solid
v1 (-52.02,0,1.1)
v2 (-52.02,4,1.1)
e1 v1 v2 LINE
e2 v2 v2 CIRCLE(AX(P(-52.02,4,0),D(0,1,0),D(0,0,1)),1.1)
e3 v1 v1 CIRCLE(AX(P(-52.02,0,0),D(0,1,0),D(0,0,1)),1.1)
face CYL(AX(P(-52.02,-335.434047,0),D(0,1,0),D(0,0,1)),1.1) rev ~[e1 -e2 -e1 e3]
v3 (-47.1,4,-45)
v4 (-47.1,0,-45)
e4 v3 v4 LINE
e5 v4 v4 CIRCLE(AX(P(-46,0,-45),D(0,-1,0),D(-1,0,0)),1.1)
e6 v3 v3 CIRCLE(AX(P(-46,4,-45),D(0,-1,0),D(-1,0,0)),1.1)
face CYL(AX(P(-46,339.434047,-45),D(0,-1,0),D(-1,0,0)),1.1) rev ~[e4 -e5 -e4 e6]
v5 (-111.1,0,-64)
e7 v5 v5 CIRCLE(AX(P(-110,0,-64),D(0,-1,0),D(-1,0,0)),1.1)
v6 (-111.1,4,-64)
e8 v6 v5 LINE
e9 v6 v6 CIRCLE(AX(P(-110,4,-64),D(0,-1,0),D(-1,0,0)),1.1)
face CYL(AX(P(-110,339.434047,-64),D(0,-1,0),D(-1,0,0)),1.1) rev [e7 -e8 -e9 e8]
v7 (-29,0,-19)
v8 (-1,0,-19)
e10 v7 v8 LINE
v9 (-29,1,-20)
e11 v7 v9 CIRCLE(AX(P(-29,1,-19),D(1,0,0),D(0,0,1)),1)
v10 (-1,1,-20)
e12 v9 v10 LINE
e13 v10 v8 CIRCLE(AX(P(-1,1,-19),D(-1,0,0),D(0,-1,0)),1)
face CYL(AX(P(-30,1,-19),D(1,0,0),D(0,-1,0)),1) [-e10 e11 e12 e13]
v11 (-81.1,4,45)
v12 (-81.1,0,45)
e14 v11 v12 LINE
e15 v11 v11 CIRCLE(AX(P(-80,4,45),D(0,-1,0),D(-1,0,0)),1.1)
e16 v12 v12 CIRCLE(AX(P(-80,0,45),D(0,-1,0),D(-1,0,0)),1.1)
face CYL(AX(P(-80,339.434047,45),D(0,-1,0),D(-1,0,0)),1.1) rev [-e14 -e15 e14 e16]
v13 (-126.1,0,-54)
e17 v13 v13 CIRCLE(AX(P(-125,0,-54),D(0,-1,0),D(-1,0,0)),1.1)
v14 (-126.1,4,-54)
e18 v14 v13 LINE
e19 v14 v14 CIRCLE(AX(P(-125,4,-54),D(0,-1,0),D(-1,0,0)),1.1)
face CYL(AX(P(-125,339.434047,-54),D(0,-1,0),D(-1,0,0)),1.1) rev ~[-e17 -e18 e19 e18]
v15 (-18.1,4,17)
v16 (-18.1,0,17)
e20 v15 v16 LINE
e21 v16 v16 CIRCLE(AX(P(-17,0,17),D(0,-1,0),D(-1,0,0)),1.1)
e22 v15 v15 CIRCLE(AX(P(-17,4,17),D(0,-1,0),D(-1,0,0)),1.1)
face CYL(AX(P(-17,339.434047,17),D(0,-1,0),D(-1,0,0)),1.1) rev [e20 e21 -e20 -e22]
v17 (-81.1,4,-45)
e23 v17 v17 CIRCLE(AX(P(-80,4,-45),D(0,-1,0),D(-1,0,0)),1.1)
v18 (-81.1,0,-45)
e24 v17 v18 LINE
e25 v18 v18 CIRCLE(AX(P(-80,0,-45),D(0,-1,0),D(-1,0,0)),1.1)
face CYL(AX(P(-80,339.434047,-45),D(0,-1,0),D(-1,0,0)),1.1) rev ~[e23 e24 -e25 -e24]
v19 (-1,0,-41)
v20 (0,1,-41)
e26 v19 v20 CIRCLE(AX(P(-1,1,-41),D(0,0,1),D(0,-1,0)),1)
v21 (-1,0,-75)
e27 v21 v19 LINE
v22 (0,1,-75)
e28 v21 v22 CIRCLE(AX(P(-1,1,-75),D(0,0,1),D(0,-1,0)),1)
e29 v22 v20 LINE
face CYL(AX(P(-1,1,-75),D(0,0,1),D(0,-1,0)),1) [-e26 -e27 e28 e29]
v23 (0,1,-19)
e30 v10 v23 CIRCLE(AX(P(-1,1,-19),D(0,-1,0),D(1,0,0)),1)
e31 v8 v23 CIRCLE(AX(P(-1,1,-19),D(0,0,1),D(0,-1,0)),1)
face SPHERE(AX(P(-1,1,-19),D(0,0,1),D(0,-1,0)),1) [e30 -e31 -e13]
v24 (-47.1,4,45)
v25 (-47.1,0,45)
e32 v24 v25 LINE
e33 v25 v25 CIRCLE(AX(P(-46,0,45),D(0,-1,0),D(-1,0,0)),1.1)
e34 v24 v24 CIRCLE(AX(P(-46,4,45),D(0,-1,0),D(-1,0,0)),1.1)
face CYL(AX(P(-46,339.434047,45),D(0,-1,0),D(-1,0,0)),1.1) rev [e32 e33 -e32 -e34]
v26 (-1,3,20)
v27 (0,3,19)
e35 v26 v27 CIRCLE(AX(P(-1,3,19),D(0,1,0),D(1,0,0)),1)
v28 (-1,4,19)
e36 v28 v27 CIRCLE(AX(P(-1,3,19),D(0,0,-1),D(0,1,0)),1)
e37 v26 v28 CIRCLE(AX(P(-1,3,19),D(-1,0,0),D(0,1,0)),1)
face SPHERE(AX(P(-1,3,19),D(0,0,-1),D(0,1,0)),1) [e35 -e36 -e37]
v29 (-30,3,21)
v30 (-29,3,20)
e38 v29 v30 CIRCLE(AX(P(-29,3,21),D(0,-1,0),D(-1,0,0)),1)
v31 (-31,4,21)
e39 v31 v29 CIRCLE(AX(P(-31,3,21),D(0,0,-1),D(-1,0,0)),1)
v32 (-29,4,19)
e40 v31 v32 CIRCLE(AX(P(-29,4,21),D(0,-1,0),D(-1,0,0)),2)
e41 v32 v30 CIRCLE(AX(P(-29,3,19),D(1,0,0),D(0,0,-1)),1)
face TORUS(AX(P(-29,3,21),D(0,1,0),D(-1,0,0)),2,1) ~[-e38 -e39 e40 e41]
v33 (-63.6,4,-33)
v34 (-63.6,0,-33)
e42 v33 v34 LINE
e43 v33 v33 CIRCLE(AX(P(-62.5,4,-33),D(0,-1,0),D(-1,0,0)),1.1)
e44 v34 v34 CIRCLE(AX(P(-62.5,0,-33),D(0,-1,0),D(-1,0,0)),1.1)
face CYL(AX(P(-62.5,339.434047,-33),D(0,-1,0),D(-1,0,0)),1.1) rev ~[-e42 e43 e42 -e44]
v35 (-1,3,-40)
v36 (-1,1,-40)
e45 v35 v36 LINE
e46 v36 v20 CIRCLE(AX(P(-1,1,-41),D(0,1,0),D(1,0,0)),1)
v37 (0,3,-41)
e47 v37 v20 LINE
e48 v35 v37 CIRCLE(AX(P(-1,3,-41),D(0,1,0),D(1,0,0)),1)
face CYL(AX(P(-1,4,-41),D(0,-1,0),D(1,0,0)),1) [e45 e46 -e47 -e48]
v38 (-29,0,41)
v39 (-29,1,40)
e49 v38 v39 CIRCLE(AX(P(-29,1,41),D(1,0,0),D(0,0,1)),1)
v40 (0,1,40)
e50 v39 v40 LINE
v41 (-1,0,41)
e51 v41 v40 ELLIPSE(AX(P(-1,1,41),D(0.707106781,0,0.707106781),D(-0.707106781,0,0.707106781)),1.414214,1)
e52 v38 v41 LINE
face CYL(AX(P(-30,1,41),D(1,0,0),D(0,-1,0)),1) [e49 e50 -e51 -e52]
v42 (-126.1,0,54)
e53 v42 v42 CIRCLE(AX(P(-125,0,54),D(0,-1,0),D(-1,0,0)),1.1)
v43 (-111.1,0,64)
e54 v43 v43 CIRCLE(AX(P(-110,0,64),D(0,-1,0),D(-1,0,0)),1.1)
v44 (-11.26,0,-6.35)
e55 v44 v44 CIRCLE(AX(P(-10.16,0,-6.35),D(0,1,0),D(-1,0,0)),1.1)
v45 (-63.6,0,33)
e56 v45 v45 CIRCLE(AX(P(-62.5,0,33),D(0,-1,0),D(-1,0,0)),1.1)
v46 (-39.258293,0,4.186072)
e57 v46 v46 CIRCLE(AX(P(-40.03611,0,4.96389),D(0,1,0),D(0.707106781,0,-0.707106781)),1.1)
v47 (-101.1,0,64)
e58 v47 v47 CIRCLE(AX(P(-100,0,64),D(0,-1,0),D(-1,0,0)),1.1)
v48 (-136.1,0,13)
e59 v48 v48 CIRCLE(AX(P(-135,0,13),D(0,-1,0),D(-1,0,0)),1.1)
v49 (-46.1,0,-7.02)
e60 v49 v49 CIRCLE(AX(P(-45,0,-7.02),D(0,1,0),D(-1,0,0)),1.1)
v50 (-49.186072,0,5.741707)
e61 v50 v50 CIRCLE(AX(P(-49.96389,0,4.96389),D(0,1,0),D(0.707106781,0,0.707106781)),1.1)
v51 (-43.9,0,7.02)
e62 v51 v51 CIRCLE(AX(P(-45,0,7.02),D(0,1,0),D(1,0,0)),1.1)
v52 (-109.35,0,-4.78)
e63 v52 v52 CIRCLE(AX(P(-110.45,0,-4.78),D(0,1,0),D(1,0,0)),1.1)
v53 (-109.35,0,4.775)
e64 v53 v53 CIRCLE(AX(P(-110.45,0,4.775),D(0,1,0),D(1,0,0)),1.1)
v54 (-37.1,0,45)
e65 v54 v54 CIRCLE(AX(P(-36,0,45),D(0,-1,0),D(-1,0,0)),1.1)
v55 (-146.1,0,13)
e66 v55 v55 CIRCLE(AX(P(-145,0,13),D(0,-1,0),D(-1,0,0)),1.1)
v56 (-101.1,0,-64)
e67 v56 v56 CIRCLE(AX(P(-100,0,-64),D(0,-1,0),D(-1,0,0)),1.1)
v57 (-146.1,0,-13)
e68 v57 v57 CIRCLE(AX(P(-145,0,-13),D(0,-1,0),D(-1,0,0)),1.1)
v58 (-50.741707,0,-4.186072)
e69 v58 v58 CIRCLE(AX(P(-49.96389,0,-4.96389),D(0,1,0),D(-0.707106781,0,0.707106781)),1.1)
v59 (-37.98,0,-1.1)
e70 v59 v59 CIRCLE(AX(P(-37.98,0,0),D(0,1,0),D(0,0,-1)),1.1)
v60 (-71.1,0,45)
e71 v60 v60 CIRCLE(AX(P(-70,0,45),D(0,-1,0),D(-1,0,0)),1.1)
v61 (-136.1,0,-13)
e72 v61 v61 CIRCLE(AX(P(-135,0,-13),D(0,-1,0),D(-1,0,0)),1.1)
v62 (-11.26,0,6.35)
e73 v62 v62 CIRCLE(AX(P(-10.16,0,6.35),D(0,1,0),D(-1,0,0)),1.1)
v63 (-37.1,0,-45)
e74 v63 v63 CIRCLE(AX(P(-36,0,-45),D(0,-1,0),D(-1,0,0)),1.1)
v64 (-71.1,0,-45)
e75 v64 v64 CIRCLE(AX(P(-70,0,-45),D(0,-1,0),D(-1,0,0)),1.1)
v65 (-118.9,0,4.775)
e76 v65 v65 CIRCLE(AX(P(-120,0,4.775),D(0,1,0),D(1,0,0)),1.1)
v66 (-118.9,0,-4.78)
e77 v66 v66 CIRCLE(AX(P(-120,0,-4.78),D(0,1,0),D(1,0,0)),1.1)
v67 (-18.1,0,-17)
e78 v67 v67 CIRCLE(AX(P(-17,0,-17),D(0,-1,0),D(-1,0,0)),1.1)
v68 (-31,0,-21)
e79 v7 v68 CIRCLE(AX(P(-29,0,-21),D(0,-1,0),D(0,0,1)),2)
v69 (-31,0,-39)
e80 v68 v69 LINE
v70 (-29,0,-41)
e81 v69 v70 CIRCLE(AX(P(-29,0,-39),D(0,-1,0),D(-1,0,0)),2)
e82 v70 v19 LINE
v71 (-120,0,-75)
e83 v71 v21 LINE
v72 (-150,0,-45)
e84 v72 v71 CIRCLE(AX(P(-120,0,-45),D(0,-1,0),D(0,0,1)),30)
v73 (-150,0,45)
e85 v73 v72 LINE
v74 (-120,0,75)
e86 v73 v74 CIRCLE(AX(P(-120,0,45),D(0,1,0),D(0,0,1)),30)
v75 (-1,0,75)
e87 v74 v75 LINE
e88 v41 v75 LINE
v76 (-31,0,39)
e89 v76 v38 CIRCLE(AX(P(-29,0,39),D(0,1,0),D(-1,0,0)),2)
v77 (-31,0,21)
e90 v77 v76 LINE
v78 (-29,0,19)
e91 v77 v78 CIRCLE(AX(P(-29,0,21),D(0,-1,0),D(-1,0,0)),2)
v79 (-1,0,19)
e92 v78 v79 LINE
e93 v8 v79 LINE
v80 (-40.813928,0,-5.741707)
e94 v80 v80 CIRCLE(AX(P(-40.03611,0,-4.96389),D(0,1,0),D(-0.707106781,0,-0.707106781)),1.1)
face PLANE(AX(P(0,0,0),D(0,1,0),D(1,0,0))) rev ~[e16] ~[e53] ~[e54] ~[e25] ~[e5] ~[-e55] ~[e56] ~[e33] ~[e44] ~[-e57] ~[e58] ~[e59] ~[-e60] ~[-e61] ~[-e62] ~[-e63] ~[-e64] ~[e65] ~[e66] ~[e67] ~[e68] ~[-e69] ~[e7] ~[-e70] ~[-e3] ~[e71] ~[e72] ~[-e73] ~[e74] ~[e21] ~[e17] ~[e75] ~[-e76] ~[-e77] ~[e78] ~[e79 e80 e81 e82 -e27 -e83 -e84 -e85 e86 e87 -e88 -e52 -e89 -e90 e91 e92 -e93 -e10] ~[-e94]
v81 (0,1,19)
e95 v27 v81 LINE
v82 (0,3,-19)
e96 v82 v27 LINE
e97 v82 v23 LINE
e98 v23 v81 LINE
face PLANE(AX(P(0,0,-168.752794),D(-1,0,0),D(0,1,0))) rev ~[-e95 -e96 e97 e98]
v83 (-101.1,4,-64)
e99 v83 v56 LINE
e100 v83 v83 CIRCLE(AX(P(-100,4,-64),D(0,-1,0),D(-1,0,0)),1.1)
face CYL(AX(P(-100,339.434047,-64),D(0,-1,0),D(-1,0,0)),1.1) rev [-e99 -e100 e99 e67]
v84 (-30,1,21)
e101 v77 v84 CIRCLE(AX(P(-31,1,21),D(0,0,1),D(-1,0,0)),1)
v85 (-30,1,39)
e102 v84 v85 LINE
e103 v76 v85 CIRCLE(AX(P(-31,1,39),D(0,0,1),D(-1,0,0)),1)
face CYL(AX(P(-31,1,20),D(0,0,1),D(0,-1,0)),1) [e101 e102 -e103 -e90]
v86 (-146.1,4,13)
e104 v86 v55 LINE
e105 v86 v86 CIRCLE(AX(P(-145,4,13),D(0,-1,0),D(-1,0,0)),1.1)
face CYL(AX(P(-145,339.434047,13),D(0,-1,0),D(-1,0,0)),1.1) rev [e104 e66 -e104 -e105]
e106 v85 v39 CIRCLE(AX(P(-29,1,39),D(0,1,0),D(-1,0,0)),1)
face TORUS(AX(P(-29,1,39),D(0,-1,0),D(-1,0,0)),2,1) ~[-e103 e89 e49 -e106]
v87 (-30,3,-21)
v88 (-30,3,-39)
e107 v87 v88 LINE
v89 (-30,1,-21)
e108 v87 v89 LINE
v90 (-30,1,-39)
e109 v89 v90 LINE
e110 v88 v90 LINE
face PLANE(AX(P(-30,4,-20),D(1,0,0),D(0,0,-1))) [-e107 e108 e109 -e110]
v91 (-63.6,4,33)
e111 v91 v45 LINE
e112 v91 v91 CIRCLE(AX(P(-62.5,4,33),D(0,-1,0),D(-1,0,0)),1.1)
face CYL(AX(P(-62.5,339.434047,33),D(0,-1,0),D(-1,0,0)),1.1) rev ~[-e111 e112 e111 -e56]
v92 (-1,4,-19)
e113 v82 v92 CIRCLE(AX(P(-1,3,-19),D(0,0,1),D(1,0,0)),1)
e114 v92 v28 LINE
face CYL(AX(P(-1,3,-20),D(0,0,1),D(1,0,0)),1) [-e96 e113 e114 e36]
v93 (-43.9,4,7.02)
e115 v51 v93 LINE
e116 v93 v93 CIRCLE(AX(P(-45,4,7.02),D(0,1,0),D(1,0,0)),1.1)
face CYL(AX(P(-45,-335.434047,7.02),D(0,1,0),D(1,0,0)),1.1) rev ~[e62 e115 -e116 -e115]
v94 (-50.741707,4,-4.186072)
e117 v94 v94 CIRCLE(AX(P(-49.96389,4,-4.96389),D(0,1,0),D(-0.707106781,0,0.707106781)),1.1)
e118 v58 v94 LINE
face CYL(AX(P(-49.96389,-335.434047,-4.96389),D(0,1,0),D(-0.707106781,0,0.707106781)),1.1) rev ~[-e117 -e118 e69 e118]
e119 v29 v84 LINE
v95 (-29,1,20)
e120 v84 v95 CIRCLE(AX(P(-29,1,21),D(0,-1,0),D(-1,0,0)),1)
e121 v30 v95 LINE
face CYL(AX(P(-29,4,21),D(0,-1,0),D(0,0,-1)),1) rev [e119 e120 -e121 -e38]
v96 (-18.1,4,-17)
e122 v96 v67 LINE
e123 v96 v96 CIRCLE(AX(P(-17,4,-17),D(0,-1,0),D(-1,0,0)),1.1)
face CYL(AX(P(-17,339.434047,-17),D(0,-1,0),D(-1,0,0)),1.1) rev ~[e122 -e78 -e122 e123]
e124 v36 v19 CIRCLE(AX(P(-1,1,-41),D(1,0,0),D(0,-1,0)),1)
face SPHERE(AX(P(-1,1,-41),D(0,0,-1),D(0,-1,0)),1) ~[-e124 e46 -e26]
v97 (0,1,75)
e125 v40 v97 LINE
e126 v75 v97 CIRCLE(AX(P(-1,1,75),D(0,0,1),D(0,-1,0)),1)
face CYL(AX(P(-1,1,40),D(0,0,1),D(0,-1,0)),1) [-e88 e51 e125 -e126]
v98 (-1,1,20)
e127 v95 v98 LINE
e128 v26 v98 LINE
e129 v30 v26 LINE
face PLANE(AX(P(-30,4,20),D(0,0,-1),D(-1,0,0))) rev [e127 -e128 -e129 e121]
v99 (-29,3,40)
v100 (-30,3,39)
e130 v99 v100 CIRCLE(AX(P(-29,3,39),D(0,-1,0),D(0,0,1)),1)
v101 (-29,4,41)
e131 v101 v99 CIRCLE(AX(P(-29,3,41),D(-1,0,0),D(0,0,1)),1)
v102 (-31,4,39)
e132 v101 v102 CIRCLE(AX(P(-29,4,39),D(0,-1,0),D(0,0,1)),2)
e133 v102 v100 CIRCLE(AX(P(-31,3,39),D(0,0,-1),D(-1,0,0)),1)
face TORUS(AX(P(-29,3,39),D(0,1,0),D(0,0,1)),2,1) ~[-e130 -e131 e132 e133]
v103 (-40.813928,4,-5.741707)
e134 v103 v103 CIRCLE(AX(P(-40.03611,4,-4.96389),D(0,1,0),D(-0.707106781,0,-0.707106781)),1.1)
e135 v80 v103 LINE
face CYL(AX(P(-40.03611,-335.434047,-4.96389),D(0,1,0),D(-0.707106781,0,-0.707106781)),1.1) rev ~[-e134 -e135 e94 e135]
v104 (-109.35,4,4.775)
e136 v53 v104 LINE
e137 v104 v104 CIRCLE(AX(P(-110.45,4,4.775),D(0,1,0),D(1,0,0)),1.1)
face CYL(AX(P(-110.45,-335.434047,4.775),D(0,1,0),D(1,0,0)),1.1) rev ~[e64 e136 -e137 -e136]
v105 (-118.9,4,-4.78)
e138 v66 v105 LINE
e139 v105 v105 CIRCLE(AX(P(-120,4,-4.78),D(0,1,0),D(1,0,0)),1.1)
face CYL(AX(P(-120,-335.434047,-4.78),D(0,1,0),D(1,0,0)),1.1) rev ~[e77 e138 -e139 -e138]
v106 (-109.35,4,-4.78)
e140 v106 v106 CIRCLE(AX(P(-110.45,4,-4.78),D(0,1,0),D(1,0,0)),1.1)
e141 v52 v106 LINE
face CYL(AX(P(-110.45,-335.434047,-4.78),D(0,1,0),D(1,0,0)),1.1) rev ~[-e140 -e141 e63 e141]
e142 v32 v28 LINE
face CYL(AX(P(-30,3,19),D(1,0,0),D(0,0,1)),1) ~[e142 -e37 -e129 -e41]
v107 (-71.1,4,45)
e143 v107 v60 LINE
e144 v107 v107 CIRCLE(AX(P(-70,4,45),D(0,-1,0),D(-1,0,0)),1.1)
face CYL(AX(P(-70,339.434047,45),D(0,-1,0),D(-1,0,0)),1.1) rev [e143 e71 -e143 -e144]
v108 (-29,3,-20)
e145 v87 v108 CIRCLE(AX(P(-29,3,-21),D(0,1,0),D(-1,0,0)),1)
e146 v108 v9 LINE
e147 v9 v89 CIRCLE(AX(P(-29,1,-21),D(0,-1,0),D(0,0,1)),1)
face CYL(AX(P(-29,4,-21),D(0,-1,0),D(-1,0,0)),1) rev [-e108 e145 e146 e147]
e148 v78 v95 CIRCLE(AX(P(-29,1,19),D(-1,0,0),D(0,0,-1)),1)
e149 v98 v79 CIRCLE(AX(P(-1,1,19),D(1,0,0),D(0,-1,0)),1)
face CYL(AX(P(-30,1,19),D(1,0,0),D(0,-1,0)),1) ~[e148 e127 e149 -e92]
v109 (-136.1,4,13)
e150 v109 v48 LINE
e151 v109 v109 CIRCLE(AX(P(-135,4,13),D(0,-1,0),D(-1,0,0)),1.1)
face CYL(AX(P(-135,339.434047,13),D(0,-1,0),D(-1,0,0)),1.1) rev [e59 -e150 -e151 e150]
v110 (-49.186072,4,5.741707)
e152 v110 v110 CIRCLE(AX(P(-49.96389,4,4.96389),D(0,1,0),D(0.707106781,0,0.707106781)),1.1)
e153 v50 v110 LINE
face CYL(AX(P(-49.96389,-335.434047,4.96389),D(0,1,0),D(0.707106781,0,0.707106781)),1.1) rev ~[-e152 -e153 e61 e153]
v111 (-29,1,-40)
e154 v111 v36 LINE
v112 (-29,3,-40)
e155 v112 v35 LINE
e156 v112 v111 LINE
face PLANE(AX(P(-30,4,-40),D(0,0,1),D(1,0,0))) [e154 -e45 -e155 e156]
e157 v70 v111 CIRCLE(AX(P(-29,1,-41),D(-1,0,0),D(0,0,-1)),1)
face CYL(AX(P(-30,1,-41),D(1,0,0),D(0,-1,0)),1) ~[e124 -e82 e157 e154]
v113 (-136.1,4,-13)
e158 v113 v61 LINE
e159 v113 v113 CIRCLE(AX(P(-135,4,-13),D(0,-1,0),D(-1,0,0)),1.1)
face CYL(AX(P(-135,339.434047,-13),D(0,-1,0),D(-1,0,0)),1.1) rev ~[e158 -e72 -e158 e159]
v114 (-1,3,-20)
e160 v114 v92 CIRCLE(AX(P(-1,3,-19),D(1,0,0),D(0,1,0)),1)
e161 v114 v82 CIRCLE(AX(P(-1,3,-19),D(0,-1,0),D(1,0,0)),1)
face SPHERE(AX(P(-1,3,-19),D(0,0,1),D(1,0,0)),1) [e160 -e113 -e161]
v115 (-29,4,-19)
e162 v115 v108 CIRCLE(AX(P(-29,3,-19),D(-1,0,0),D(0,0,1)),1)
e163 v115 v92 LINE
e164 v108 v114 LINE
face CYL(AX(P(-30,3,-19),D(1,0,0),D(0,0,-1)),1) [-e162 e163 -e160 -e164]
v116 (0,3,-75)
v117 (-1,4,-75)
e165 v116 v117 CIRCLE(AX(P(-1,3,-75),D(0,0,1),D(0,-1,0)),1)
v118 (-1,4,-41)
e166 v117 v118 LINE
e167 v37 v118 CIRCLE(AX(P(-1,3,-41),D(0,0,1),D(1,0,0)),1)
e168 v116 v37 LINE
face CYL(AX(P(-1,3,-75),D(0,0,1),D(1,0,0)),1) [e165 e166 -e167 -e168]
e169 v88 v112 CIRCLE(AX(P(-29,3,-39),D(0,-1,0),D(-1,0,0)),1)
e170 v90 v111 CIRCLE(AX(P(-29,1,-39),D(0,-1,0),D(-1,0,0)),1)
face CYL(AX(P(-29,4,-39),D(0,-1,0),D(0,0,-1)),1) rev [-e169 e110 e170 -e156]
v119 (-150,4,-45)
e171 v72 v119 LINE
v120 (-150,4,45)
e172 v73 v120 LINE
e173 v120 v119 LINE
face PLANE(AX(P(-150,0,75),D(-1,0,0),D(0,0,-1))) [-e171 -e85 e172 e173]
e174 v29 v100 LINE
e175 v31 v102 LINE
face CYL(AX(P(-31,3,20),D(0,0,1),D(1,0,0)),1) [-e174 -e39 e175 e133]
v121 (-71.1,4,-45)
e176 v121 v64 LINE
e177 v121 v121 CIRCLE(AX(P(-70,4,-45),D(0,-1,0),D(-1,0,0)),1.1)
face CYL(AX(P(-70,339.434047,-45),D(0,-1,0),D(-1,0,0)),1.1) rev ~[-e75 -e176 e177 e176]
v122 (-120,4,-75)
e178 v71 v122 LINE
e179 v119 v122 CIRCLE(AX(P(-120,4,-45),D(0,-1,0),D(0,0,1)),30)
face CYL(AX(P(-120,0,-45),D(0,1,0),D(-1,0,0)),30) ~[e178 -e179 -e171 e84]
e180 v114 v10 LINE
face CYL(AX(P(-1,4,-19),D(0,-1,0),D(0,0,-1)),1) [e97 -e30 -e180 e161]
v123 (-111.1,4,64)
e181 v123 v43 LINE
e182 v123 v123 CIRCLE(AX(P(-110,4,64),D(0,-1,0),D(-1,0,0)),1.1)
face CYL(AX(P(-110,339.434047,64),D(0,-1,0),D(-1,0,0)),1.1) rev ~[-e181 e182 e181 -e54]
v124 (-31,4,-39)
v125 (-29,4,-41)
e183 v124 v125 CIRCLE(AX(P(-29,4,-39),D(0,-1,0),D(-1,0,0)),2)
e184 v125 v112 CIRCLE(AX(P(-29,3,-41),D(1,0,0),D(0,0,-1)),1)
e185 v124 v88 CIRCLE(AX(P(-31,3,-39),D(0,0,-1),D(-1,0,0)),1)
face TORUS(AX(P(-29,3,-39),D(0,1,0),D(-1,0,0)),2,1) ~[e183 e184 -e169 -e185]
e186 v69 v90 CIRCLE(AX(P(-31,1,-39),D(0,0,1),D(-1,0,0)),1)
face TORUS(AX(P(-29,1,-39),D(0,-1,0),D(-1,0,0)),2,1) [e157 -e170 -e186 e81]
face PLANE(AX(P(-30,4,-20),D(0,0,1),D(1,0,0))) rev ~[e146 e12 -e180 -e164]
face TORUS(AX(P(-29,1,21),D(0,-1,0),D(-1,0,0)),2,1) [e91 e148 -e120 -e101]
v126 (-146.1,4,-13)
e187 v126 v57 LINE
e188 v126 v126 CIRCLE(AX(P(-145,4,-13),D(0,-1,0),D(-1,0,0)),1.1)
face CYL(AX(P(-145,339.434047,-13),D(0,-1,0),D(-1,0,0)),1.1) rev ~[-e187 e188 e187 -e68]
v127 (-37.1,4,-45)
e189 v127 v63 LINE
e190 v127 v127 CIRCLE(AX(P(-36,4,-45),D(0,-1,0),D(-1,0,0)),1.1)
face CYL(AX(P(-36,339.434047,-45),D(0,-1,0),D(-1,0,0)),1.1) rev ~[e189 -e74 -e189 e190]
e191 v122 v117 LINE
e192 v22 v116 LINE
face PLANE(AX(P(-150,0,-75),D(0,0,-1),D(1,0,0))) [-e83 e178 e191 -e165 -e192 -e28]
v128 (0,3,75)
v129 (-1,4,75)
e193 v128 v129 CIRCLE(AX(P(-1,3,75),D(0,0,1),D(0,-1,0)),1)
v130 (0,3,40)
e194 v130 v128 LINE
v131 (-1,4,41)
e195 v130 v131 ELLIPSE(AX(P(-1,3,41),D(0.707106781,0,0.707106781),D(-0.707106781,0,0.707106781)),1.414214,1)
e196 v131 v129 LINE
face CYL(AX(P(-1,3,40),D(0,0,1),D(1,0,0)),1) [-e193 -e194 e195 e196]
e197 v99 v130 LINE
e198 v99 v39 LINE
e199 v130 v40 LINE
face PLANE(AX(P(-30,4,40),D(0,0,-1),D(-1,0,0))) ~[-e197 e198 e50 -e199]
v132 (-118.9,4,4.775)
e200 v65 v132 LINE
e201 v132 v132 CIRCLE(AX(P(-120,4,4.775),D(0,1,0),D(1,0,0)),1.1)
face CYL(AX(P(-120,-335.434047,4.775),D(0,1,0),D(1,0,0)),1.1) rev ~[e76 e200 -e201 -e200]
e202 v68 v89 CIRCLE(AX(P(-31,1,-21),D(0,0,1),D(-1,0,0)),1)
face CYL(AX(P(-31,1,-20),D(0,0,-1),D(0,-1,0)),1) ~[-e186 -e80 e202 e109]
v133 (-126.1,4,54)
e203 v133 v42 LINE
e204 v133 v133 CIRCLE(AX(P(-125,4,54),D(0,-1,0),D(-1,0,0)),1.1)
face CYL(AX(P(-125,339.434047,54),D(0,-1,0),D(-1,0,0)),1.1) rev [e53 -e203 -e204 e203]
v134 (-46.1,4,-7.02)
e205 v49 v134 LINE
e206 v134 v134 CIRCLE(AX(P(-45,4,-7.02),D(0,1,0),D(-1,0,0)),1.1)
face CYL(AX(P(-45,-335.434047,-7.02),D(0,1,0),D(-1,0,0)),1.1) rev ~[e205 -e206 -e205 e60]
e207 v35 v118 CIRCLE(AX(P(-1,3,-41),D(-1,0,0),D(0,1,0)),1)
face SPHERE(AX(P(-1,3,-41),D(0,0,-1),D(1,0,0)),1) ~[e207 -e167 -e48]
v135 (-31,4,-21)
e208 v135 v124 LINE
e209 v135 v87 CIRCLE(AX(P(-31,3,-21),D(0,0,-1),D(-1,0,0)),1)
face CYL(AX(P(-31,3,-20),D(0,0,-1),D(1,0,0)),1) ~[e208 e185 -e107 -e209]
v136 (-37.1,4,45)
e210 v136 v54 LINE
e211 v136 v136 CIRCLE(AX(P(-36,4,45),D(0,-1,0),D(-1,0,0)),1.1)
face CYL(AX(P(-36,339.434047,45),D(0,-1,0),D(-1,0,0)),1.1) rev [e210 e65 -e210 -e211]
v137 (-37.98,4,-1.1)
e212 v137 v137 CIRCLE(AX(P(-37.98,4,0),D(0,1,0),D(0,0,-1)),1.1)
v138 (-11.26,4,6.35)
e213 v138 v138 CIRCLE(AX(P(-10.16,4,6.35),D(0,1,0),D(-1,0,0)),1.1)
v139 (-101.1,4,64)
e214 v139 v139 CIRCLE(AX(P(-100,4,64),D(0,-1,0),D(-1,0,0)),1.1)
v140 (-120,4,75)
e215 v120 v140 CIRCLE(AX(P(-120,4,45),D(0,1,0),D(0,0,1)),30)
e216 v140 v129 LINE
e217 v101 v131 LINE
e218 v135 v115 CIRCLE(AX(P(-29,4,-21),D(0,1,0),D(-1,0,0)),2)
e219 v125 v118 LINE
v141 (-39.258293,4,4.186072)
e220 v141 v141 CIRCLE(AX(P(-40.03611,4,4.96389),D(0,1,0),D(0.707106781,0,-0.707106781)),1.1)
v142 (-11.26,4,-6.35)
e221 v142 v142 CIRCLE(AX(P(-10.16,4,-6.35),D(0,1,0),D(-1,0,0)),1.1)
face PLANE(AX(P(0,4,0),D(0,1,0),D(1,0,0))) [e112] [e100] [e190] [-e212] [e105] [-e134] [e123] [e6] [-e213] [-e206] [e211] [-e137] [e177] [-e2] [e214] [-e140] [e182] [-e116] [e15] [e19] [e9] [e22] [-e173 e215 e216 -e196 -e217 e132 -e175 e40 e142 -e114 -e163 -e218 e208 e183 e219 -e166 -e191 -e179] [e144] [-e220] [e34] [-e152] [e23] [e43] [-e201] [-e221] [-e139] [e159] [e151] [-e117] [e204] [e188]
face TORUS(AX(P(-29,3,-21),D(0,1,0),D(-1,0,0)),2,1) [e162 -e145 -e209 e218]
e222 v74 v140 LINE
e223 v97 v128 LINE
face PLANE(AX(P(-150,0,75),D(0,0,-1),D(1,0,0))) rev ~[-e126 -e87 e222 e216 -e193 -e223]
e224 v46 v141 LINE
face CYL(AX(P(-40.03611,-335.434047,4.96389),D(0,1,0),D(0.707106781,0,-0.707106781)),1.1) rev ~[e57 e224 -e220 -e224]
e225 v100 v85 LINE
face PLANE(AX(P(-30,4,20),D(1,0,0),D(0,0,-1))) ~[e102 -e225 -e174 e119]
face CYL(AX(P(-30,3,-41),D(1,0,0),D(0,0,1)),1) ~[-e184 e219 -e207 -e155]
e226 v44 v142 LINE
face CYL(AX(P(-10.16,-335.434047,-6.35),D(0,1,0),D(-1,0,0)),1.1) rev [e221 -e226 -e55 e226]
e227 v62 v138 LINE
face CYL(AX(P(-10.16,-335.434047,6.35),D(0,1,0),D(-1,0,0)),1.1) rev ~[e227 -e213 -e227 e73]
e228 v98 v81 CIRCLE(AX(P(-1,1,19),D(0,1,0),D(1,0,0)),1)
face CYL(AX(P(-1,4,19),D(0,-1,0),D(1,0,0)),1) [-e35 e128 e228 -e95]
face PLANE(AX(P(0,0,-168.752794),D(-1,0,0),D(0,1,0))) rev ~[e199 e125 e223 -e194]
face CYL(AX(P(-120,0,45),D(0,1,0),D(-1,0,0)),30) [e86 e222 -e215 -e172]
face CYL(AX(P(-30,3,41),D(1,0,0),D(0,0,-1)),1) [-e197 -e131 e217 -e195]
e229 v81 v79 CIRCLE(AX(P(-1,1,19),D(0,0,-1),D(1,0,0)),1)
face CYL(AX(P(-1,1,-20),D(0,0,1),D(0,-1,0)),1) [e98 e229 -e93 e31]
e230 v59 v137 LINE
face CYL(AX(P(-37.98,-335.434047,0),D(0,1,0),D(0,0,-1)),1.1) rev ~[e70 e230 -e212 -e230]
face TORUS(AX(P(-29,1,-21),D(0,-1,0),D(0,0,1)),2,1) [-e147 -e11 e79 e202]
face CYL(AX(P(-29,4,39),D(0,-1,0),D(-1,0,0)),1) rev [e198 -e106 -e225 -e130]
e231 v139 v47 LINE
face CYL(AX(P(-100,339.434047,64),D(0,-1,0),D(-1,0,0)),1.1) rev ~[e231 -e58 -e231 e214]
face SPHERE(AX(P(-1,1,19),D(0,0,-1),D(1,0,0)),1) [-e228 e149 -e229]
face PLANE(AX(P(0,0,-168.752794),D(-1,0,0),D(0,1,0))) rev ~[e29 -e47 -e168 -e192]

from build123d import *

# Parameters (mm, degrees)
SKETCH_1_W                            = 300
SKETCH_1_H                            = 150
EXTRUDE_1_DEPTH                       = 4
FILLET_4_R                            = 30
FILLET_5_R                            = 30
FILLET_6_R                            = 30
FILLET_7_R                            = 30
HOLE_WIZARD_2_2_2_2_1_D               = 2.2
PATTERN_CIRCULAR_1_COUNT              = 8
MIRROR_1_COPY_1_D                     = 2.2
MIRROR_1_COPY_2_D                     = 2.2
MIRROR_1_COPY_3_D                     = 2.2
MIRROR_1_COPY_4_D                     = 2.2
MIRROR_1_COPY_5_D                     = 2.2
MIRROR_1_COPY_6_D                     = 2.2
MIRROR_1_COPY_7_D                     = 2.2
HOLE_WIZARD_2_2_2_2_2_D               = 2.2
HOLE_WIZARD_2_2_2_2_4_D               = 2.2
F_2_2_2_2_DIAMETER_HOLE1_D            = 2.2
MIRROR_5_AT_THE_SECOND_PLANE_COPY_1_D = 2.2
HOLE_WIZARD_2_2_2_2_6_D               = 2.2
F_2_2_2_2_DIAMETER_HOLE2_D            = 2.2
MIRROR_6_AT_THE_SECOND_PLANE_COPY_1_D = 2.2
F_2_2_2_2_DIAMETER_HOLE3_D            = 2.2
F_2_2_2_2_DIAMETER_HOLE4_D            = 2.2
MIRROR_8_AT_THE_SECOND_PLANE_COPY_1_D = 2.2
F_2_2_2_2_DIAMETER_HOLE5_D            = 2.2
MIRROR_9_AT_THE_SECOND_PLANE_COPY_1_D = 2.2
CUT_EXTRUDE_2_DEPTH                   = 168.752794314
CUT_EXTRUDE_2_DEPTH_BACK              = 168.752794314
SKETCH_25_W                           = 150
SKETCH_25_H                           = 4
SKETCH_29_W                           = 30
SKETCH_29_H                           = 20
CUT_EXTRUDE_3_DEPTH                   = 168.752794314
FILLET_8_R                            = 1


with BuildPart() as part:
    # 草图1 → 凸台-拉伸1 (new body)
    with BuildSketch(Plane(origin=(0, 0, 0), x_dir=(1, 0, 0), z_dir=(0, 1, 0))):
        Rectangle(SKETCH_1_W, SKETCH_1_H)
    extrude(amount=EXTRUDE_1_DEPTH)

    # 圆角4
    fillet_4_edges = [part.edges().sort_by_distance(p)[0] for p in [
        (-150, 2, 75),
    ]]
    fillet(fillet_4_edges, radius=FILLET_4_R)

    # 圆角5
    fillet_5_edges = [part.edges().sort_by_distance(p)[0] for p in [
        (-150, 2, -75),
    ]]
    fillet(fillet_5_edges, radius=FILLET_5_R)

    # 圆角6
    fillet_6_edges = [part.edges().sort_by_distance(p)[0] for p in [
        (150, 2, -75),
    ]]
    fillet(fillet_6_edges, radius=FILLET_6_R)

    # 圆角7
    fillet_7_edges = [part.edges().sort_by_distance(p)[0] for p in [
        (150, 2, 75),
    ]]
    fillet(fillet_7_edges, radius=FILLET_7_R)

    # Ø2.2 (2.2) 直径孔1 (through all)
    with Locations(Plane(origin=(0, 0, 0), x_dir=(-1, 0, 0), z_dir=(0, -1, 0))):
        with Locations((45, -7.02)):
            hole_wizard_2_2_2_2_1 = Hole(HOLE_WIZARD_2_2_2_2_1_D / 2)

    # 阵列(圆周)1: Ø2.2 (2.2) 直径孔1 ×8 about axis
    pattern_circular_1_axis = Axis((-45, 0, 0), (0, 1, 0))
    for i in range(1, PATTERN_CIRCULAR_1_COUNT):
        add(hole_wizard_2_2_2_2_1.rotate(pattern_circular_1_axis, i * 360 / PATTERN_CIRCULAR_1_COUNT), mode=Mode.SUBTRACT)

    # 镜向1: Ø2.2 (2.2) 直径孔1 across plane
    add(hole_wizard_2_2_2_2_1.mirror(Plane(origin=(0, 0, 0), x_dir=(0, 0, 1), z_dir=(1, 0, 0))), mode=Mode.SUBTRACT)

    # 镜向1 copy 1 (through all)
    with Locations(Plane(origin=(13.180194847, 0, -31.819805153), x_dir=(0.7071067811865476, 0, 0.7071067811865475), z_dir=(0, -1, 0))):
        with Locations((45, 7.02)):
            Hole(MIRROR_1_COPY_1_D / 2)

    # 镜向1 copy 2 (through all)
    with Locations(Plane(origin=(45, 0, -45), x_dir=(0, 0, 1), z_dir=(0, -1, 0))):
        with Locations((45, 7.02)):
            Hole(MIRROR_1_COPY_2_D / 2)

    # 镜向1 copy 3 (through all)
    with Locations(Plane(origin=(76.819805153, 0, -31.819805153), x_dir=(-0.7071067811865475, 0, 0.7071067811865476), z_dir=(0, -1, 0))):
        with Locations((45, 7.02)):
            Hole(MIRROR_1_COPY_3_D / 2)

    # 镜向1 copy 4 (through all)
    with Locations(Plane(origin=(90, 0, 0), x_dir=(-1, 0, 0), z_dir=(0, -1, 0))):
        with Locations((45, 7.02)):
            Hole(MIRROR_1_COPY_4_D / 2)

    # 镜向1 copy 5 (through all)
    with Locations(Plane(origin=(76.819805153, 0, 31.819805153), x_dir=(-0.7071067811865477, 0, -0.7071067811865475), z_dir=(0, -1, 0))):
        with Locations((45, 7.02)):
            Hole(MIRROR_1_COPY_5_D / 2)

    # 镜向1 copy 6 (through all)
    with Locations(Plane(origin=(45, 0, 45), x_dir=(0, 0, -1), z_dir=(0, -1, 0))):
        with Locations((45, 7.02)):
            Hole(MIRROR_1_COPY_6_D / 2)

    # 镜向1 copy 7 (through all)
    with Locations(Plane(origin=(13.180194847, 0, 31.819805153), x_dir=(0.7071067811865474, 0, -0.7071067811865477), z_dir=(0, -1, 0))):
        with Locations((45, 7.02)):
            Hole(MIRROR_1_COPY_7_D / 2)

    # Ø2.2 (2.2) 直径孔2 (through all)
    with Locations(Plane(origin=(0, 0, 0), x_dir=(-1, 0, 0), z_dir=(0, -1, 0))):
        with Locations((120, 4.78), (120, -4.775), (110.45, -4.775), (110.45, 4.78)):
            hole_wizard_2_2_2_2_2 = Hole(HOLE_WIZARD_2_2_2_2_2_D / 2)

    # 镜向2: Ø2.2 (2.2) 直径孔2 across plane
    add(hole_wizard_2_2_2_2_2.mirror(Plane(origin=(0, 0, 0), x_dir=(0, 0, 1), z_dir=(1, 0, 0))), mode=Mode.SUBTRACT)

    # Ø2.2 (2.2) 直径孔4 (through all)
    with Locations(Plane(origin=(0, 4, 0), x_dir=(1, 0, 0), z_dir=(0, 1, 0))):
        with Locations((100, -64), (110, -64), (-100, -64), (-110, -64)):
            hole_wizard_2_2_2_2_4 = Hole(HOLE_WIZARD_2_2_2_2_4_D / 2)

    # 镜向4: Ø2.2 (2.2) 直径孔4 across plane
    add(hole_wizard_2_2_2_2_4.mirror(Plane.XY), mode=Mode.SUBTRACT)

    # Ø2.2 (2.2) Diameter Hole1 (through all)
    with Locations(Plane(origin=(0, 4, 0), x_dir=(1, 0, 0), z_dir=(0, 1, 0))):
        with Locations((-125, 54)):
            f_2_2_2_2_diameter_hole1 = Hole(F_2_2_2_2_DIAMETER_HOLE1_D / 2)

    # 镜向5: Ø2.2 (2.2) Diameter Hole1 across plane
    add(f_2_2_2_2_diameter_hole1.mirror(Plane(origin=(0, 0, 0), x_dir=(0, 0, 1), z_dir=(1, 0, 0))), mode=Mode.SUBTRACT)

    # 镜向5 at the second plane: Ø2.2 (2.2) Diameter Hole1 across plane
    add(f_2_2_2_2_diameter_hole1.mirror(Plane.XY), mode=Mode.SUBTRACT)

    # 镜向5 at the second plane copy 1 (through all)
    with Locations(Plane(origin=(0, 4, 0), x_dir=(-1, 0, 0), z_dir=(0, 1, 0))):
        with Locations((-125, 54)):
            Hole(MIRROR_5_AT_THE_SECOND_PLANE_COPY_1_D / 2)

    # Ø2.2 (2.2) 直径孔6 (through all)
    with Locations(Plane(origin=(0, 4, 0), x_dir=(1, 0, 0), z_dir=(0, 1, 0))):
        with Locations((-62.5, 33), (-62.5, -33), (62.5, -33), (62.5, 33)):
            Hole(HOLE_WIZARD_2_2_2_2_6_D / 2)

    # Ø2.2 (2.2) Diameter Hole2 (through all)
    with Locations(Plane(origin=(0, 4, 0), x_dir=(1, 0, 0), z_dir=(0, 1, 0))):
        with Locations((-145, 13), (-135, 13)):
            f_2_2_2_2_diameter_hole2 = Hole(F_2_2_2_2_DIAMETER_HOLE2_D / 2)

    # 镜向6: Ø2.2 (2.2) Diameter Hole2 across plane
    add(f_2_2_2_2_diameter_hole2.mirror(Plane(origin=(0, 0, 0), x_dir=(0, 0, 1), z_dir=(1, 0, 0))), mode=Mode.SUBTRACT)

    # 镜向6 at the second plane: Ø2.2 (2.2) Diameter Hole2 across plane
    add(f_2_2_2_2_diameter_hole2.mirror(Plane.XY), mode=Mode.SUBTRACT)

    # 镜向6 at the second plane copy 1 (through all)
    with Locations(Plane(origin=(0, 4, 0), x_dir=(-1, 0, 0), z_dir=(0, 1, 0))):
        with Locations((-145, 13), (-135, 13)):
            Hole(MIRROR_6_AT_THE_SECOND_PLANE_COPY_1_D / 2)

    # Ø2.2 (2.2) Diameter Hole3 (through all)
    with Locations(Plane(origin=(0, 4, 0), x_dir=(1, 0, 0), z_dir=(0, 1, 0))):
        with Locations((-80, 45), (-70, 45), (-46, 45), (-36, 45), (4, 45), (14, 45), (62, 45), (72, 45)):
            f_2_2_2_2_diameter_hole3 = Hole(F_2_2_2_2_DIAMETER_HOLE3_D / 2)

    # 镜向7: Ø2.2 (2.2) Diameter Hole3 across plane
    add(f_2_2_2_2_diameter_hole3.mirror(Plane.XY), mode=Mode.SUBTRACT)

    # Ø2.2 (2.2) Diameter Hole4 (through all)
    with Locations(Plane.XZ):
        with Locations((-10.16, 6.35)):
            f_2_2_2_2_diameter_hole4 = Hole(F_2_2_2_2_DIAMETER_HOLE4_D / 2)

    # 镜向8: Ø2.2 (2.2) Diameter Hole4 across plane
    add(f_2_2_2_2_diameter_hole4.mirror(Plane.XY), mode=Mode.SUBTRACT)

    # 镜向8 at the second plane: Ø2.2 (2.2) Diameter Hole4 across plane
    add(f_2_2_2_2_diameter_hole4.mirror(Plane(origin=(0, 0, 0), x_dir=(0, 0, 1), z_dir=(1, 0, 0))), mode=Mode.SUBTRACT)

    # 镜向8 at the second plane copy 1 (through all)
    with Locations(Plane(origin=(0, 0, 0), x_dir=(-1, 0, 0), z_dir=(0, -1, 0))):
        with Locations((-10.16, 6.35)):
            Hole(MIRROR_8_AT_THE_SECOND_PLANE_COPY_1_D / 2)

    # Ø2.2 (2.2) Diameter Hole5 (through all)
    with Locations(Plane(origin=(0, 4, 0), x_dir=(1, 0, 0), z_dir=(0, 1, 0))):
        with Locations((-17, 17)):
            f_2_2_2_2_diameter_hole5 = Hole(F_2_2_2_2_DIAMETER_HOLE5_D / 2)

    # 镜向9: Ø2.2 (2.2) Diameter Hole5 across plane
    add(f_2_2_2_2_diameter_hole5.mirror(Plane.XY), mode=Mode.SUBTRACT)

    # 镜向9 at the second plane: Ø2.2 (2.2) Diameter Hole5 across plane
    add(f_2_2_2_2_diameter_hole5.mirror(Plane(origin=(0, 0, 0), x_dir=(0, 0, 1), z_dir=(1, 0, 0))), mode=Mode.SUBTRACT)

    # 镜向9 at the second plane copy 1 (through all)
    with Locations(Plane(origin=(0, 4, 0), x_dir=(-1, 0, 0), z_dir=(0, 1, 0))):
        with Locations((-17, 17)):
            Hole(MIRROR_9_AT_THE_SECOND_PLANE_COPY_1_D / 2)

    # 草图25 → 切除-拉伸2 (cut, two sides: drawn at the far end of the back side and taken through both)
    with BuildSketch(Plane.XY.offset(-CUT_EXTRUDE_2_DEPTH_BACK)):
        with Locations((75, 2)):
            Rectangle(SKETCH_25_W, SKETCH_25_H)
    extrude(amount=CUT_EXTRUDE_2_DEPTH + CUT_EXTRUDE_2_DEPTH_BACK, mode=Mode.SUBTRACT)

    # 草图29 → 切除-拉伸3 (cut, through all)
    with BuildSketch(Plane(origin=(0, 4, 0), x_dir=(1, 0, 0), z_dir=(0, 1, 0))):
        with Locations((-15, 30)):
            Rectangle(SKETCH_29_W, SKETCH_29_H)
    cut_extrude_3 = extrude(amount=-CUT_EXTRUDE_3_DEPTH, mode=Mode.SUBTRACT)

    # 镜向10: 切除-拉伸3 across plane
    add(cut_extrude_3.mirror(Plane.XY), mode=Mode.SUBTRACT)

    # 圆角8
    fillet_8_edges = [part.edges().sort_by_distance(p)[0] for p in [
        (0, 4, -57.5),
        (0, 0, -57.5),
        (0, 0, 0),
        (0, 4, 0),
        (-30, 0, -30),
        (-30, 2, -20),
        (-15, 0, -40),
        (-30, 2, -40),
        (0, 2, -40),
        (-15, 0, -20),
        (0, 2, -20),
        (-30, 4, -30),
        (-15, 4, -20),
        (-15, 4, -40),
        (0, 0, 57.5),
        (0, 4, 57.5),
        (-30, 4, 30),
        (-30, 2, 40),
        (-15, 4, 20),
        (-30, 2, 20),
        (0, 2, 20),
        (-15, 4, 40),
        (-30, 0, 30),
        (-15, 0, 20),
        (-15, 0, 40),
    ]]
    fillet(fillet_8_edges, radius=FILLET_8_R)


solid = part.part
